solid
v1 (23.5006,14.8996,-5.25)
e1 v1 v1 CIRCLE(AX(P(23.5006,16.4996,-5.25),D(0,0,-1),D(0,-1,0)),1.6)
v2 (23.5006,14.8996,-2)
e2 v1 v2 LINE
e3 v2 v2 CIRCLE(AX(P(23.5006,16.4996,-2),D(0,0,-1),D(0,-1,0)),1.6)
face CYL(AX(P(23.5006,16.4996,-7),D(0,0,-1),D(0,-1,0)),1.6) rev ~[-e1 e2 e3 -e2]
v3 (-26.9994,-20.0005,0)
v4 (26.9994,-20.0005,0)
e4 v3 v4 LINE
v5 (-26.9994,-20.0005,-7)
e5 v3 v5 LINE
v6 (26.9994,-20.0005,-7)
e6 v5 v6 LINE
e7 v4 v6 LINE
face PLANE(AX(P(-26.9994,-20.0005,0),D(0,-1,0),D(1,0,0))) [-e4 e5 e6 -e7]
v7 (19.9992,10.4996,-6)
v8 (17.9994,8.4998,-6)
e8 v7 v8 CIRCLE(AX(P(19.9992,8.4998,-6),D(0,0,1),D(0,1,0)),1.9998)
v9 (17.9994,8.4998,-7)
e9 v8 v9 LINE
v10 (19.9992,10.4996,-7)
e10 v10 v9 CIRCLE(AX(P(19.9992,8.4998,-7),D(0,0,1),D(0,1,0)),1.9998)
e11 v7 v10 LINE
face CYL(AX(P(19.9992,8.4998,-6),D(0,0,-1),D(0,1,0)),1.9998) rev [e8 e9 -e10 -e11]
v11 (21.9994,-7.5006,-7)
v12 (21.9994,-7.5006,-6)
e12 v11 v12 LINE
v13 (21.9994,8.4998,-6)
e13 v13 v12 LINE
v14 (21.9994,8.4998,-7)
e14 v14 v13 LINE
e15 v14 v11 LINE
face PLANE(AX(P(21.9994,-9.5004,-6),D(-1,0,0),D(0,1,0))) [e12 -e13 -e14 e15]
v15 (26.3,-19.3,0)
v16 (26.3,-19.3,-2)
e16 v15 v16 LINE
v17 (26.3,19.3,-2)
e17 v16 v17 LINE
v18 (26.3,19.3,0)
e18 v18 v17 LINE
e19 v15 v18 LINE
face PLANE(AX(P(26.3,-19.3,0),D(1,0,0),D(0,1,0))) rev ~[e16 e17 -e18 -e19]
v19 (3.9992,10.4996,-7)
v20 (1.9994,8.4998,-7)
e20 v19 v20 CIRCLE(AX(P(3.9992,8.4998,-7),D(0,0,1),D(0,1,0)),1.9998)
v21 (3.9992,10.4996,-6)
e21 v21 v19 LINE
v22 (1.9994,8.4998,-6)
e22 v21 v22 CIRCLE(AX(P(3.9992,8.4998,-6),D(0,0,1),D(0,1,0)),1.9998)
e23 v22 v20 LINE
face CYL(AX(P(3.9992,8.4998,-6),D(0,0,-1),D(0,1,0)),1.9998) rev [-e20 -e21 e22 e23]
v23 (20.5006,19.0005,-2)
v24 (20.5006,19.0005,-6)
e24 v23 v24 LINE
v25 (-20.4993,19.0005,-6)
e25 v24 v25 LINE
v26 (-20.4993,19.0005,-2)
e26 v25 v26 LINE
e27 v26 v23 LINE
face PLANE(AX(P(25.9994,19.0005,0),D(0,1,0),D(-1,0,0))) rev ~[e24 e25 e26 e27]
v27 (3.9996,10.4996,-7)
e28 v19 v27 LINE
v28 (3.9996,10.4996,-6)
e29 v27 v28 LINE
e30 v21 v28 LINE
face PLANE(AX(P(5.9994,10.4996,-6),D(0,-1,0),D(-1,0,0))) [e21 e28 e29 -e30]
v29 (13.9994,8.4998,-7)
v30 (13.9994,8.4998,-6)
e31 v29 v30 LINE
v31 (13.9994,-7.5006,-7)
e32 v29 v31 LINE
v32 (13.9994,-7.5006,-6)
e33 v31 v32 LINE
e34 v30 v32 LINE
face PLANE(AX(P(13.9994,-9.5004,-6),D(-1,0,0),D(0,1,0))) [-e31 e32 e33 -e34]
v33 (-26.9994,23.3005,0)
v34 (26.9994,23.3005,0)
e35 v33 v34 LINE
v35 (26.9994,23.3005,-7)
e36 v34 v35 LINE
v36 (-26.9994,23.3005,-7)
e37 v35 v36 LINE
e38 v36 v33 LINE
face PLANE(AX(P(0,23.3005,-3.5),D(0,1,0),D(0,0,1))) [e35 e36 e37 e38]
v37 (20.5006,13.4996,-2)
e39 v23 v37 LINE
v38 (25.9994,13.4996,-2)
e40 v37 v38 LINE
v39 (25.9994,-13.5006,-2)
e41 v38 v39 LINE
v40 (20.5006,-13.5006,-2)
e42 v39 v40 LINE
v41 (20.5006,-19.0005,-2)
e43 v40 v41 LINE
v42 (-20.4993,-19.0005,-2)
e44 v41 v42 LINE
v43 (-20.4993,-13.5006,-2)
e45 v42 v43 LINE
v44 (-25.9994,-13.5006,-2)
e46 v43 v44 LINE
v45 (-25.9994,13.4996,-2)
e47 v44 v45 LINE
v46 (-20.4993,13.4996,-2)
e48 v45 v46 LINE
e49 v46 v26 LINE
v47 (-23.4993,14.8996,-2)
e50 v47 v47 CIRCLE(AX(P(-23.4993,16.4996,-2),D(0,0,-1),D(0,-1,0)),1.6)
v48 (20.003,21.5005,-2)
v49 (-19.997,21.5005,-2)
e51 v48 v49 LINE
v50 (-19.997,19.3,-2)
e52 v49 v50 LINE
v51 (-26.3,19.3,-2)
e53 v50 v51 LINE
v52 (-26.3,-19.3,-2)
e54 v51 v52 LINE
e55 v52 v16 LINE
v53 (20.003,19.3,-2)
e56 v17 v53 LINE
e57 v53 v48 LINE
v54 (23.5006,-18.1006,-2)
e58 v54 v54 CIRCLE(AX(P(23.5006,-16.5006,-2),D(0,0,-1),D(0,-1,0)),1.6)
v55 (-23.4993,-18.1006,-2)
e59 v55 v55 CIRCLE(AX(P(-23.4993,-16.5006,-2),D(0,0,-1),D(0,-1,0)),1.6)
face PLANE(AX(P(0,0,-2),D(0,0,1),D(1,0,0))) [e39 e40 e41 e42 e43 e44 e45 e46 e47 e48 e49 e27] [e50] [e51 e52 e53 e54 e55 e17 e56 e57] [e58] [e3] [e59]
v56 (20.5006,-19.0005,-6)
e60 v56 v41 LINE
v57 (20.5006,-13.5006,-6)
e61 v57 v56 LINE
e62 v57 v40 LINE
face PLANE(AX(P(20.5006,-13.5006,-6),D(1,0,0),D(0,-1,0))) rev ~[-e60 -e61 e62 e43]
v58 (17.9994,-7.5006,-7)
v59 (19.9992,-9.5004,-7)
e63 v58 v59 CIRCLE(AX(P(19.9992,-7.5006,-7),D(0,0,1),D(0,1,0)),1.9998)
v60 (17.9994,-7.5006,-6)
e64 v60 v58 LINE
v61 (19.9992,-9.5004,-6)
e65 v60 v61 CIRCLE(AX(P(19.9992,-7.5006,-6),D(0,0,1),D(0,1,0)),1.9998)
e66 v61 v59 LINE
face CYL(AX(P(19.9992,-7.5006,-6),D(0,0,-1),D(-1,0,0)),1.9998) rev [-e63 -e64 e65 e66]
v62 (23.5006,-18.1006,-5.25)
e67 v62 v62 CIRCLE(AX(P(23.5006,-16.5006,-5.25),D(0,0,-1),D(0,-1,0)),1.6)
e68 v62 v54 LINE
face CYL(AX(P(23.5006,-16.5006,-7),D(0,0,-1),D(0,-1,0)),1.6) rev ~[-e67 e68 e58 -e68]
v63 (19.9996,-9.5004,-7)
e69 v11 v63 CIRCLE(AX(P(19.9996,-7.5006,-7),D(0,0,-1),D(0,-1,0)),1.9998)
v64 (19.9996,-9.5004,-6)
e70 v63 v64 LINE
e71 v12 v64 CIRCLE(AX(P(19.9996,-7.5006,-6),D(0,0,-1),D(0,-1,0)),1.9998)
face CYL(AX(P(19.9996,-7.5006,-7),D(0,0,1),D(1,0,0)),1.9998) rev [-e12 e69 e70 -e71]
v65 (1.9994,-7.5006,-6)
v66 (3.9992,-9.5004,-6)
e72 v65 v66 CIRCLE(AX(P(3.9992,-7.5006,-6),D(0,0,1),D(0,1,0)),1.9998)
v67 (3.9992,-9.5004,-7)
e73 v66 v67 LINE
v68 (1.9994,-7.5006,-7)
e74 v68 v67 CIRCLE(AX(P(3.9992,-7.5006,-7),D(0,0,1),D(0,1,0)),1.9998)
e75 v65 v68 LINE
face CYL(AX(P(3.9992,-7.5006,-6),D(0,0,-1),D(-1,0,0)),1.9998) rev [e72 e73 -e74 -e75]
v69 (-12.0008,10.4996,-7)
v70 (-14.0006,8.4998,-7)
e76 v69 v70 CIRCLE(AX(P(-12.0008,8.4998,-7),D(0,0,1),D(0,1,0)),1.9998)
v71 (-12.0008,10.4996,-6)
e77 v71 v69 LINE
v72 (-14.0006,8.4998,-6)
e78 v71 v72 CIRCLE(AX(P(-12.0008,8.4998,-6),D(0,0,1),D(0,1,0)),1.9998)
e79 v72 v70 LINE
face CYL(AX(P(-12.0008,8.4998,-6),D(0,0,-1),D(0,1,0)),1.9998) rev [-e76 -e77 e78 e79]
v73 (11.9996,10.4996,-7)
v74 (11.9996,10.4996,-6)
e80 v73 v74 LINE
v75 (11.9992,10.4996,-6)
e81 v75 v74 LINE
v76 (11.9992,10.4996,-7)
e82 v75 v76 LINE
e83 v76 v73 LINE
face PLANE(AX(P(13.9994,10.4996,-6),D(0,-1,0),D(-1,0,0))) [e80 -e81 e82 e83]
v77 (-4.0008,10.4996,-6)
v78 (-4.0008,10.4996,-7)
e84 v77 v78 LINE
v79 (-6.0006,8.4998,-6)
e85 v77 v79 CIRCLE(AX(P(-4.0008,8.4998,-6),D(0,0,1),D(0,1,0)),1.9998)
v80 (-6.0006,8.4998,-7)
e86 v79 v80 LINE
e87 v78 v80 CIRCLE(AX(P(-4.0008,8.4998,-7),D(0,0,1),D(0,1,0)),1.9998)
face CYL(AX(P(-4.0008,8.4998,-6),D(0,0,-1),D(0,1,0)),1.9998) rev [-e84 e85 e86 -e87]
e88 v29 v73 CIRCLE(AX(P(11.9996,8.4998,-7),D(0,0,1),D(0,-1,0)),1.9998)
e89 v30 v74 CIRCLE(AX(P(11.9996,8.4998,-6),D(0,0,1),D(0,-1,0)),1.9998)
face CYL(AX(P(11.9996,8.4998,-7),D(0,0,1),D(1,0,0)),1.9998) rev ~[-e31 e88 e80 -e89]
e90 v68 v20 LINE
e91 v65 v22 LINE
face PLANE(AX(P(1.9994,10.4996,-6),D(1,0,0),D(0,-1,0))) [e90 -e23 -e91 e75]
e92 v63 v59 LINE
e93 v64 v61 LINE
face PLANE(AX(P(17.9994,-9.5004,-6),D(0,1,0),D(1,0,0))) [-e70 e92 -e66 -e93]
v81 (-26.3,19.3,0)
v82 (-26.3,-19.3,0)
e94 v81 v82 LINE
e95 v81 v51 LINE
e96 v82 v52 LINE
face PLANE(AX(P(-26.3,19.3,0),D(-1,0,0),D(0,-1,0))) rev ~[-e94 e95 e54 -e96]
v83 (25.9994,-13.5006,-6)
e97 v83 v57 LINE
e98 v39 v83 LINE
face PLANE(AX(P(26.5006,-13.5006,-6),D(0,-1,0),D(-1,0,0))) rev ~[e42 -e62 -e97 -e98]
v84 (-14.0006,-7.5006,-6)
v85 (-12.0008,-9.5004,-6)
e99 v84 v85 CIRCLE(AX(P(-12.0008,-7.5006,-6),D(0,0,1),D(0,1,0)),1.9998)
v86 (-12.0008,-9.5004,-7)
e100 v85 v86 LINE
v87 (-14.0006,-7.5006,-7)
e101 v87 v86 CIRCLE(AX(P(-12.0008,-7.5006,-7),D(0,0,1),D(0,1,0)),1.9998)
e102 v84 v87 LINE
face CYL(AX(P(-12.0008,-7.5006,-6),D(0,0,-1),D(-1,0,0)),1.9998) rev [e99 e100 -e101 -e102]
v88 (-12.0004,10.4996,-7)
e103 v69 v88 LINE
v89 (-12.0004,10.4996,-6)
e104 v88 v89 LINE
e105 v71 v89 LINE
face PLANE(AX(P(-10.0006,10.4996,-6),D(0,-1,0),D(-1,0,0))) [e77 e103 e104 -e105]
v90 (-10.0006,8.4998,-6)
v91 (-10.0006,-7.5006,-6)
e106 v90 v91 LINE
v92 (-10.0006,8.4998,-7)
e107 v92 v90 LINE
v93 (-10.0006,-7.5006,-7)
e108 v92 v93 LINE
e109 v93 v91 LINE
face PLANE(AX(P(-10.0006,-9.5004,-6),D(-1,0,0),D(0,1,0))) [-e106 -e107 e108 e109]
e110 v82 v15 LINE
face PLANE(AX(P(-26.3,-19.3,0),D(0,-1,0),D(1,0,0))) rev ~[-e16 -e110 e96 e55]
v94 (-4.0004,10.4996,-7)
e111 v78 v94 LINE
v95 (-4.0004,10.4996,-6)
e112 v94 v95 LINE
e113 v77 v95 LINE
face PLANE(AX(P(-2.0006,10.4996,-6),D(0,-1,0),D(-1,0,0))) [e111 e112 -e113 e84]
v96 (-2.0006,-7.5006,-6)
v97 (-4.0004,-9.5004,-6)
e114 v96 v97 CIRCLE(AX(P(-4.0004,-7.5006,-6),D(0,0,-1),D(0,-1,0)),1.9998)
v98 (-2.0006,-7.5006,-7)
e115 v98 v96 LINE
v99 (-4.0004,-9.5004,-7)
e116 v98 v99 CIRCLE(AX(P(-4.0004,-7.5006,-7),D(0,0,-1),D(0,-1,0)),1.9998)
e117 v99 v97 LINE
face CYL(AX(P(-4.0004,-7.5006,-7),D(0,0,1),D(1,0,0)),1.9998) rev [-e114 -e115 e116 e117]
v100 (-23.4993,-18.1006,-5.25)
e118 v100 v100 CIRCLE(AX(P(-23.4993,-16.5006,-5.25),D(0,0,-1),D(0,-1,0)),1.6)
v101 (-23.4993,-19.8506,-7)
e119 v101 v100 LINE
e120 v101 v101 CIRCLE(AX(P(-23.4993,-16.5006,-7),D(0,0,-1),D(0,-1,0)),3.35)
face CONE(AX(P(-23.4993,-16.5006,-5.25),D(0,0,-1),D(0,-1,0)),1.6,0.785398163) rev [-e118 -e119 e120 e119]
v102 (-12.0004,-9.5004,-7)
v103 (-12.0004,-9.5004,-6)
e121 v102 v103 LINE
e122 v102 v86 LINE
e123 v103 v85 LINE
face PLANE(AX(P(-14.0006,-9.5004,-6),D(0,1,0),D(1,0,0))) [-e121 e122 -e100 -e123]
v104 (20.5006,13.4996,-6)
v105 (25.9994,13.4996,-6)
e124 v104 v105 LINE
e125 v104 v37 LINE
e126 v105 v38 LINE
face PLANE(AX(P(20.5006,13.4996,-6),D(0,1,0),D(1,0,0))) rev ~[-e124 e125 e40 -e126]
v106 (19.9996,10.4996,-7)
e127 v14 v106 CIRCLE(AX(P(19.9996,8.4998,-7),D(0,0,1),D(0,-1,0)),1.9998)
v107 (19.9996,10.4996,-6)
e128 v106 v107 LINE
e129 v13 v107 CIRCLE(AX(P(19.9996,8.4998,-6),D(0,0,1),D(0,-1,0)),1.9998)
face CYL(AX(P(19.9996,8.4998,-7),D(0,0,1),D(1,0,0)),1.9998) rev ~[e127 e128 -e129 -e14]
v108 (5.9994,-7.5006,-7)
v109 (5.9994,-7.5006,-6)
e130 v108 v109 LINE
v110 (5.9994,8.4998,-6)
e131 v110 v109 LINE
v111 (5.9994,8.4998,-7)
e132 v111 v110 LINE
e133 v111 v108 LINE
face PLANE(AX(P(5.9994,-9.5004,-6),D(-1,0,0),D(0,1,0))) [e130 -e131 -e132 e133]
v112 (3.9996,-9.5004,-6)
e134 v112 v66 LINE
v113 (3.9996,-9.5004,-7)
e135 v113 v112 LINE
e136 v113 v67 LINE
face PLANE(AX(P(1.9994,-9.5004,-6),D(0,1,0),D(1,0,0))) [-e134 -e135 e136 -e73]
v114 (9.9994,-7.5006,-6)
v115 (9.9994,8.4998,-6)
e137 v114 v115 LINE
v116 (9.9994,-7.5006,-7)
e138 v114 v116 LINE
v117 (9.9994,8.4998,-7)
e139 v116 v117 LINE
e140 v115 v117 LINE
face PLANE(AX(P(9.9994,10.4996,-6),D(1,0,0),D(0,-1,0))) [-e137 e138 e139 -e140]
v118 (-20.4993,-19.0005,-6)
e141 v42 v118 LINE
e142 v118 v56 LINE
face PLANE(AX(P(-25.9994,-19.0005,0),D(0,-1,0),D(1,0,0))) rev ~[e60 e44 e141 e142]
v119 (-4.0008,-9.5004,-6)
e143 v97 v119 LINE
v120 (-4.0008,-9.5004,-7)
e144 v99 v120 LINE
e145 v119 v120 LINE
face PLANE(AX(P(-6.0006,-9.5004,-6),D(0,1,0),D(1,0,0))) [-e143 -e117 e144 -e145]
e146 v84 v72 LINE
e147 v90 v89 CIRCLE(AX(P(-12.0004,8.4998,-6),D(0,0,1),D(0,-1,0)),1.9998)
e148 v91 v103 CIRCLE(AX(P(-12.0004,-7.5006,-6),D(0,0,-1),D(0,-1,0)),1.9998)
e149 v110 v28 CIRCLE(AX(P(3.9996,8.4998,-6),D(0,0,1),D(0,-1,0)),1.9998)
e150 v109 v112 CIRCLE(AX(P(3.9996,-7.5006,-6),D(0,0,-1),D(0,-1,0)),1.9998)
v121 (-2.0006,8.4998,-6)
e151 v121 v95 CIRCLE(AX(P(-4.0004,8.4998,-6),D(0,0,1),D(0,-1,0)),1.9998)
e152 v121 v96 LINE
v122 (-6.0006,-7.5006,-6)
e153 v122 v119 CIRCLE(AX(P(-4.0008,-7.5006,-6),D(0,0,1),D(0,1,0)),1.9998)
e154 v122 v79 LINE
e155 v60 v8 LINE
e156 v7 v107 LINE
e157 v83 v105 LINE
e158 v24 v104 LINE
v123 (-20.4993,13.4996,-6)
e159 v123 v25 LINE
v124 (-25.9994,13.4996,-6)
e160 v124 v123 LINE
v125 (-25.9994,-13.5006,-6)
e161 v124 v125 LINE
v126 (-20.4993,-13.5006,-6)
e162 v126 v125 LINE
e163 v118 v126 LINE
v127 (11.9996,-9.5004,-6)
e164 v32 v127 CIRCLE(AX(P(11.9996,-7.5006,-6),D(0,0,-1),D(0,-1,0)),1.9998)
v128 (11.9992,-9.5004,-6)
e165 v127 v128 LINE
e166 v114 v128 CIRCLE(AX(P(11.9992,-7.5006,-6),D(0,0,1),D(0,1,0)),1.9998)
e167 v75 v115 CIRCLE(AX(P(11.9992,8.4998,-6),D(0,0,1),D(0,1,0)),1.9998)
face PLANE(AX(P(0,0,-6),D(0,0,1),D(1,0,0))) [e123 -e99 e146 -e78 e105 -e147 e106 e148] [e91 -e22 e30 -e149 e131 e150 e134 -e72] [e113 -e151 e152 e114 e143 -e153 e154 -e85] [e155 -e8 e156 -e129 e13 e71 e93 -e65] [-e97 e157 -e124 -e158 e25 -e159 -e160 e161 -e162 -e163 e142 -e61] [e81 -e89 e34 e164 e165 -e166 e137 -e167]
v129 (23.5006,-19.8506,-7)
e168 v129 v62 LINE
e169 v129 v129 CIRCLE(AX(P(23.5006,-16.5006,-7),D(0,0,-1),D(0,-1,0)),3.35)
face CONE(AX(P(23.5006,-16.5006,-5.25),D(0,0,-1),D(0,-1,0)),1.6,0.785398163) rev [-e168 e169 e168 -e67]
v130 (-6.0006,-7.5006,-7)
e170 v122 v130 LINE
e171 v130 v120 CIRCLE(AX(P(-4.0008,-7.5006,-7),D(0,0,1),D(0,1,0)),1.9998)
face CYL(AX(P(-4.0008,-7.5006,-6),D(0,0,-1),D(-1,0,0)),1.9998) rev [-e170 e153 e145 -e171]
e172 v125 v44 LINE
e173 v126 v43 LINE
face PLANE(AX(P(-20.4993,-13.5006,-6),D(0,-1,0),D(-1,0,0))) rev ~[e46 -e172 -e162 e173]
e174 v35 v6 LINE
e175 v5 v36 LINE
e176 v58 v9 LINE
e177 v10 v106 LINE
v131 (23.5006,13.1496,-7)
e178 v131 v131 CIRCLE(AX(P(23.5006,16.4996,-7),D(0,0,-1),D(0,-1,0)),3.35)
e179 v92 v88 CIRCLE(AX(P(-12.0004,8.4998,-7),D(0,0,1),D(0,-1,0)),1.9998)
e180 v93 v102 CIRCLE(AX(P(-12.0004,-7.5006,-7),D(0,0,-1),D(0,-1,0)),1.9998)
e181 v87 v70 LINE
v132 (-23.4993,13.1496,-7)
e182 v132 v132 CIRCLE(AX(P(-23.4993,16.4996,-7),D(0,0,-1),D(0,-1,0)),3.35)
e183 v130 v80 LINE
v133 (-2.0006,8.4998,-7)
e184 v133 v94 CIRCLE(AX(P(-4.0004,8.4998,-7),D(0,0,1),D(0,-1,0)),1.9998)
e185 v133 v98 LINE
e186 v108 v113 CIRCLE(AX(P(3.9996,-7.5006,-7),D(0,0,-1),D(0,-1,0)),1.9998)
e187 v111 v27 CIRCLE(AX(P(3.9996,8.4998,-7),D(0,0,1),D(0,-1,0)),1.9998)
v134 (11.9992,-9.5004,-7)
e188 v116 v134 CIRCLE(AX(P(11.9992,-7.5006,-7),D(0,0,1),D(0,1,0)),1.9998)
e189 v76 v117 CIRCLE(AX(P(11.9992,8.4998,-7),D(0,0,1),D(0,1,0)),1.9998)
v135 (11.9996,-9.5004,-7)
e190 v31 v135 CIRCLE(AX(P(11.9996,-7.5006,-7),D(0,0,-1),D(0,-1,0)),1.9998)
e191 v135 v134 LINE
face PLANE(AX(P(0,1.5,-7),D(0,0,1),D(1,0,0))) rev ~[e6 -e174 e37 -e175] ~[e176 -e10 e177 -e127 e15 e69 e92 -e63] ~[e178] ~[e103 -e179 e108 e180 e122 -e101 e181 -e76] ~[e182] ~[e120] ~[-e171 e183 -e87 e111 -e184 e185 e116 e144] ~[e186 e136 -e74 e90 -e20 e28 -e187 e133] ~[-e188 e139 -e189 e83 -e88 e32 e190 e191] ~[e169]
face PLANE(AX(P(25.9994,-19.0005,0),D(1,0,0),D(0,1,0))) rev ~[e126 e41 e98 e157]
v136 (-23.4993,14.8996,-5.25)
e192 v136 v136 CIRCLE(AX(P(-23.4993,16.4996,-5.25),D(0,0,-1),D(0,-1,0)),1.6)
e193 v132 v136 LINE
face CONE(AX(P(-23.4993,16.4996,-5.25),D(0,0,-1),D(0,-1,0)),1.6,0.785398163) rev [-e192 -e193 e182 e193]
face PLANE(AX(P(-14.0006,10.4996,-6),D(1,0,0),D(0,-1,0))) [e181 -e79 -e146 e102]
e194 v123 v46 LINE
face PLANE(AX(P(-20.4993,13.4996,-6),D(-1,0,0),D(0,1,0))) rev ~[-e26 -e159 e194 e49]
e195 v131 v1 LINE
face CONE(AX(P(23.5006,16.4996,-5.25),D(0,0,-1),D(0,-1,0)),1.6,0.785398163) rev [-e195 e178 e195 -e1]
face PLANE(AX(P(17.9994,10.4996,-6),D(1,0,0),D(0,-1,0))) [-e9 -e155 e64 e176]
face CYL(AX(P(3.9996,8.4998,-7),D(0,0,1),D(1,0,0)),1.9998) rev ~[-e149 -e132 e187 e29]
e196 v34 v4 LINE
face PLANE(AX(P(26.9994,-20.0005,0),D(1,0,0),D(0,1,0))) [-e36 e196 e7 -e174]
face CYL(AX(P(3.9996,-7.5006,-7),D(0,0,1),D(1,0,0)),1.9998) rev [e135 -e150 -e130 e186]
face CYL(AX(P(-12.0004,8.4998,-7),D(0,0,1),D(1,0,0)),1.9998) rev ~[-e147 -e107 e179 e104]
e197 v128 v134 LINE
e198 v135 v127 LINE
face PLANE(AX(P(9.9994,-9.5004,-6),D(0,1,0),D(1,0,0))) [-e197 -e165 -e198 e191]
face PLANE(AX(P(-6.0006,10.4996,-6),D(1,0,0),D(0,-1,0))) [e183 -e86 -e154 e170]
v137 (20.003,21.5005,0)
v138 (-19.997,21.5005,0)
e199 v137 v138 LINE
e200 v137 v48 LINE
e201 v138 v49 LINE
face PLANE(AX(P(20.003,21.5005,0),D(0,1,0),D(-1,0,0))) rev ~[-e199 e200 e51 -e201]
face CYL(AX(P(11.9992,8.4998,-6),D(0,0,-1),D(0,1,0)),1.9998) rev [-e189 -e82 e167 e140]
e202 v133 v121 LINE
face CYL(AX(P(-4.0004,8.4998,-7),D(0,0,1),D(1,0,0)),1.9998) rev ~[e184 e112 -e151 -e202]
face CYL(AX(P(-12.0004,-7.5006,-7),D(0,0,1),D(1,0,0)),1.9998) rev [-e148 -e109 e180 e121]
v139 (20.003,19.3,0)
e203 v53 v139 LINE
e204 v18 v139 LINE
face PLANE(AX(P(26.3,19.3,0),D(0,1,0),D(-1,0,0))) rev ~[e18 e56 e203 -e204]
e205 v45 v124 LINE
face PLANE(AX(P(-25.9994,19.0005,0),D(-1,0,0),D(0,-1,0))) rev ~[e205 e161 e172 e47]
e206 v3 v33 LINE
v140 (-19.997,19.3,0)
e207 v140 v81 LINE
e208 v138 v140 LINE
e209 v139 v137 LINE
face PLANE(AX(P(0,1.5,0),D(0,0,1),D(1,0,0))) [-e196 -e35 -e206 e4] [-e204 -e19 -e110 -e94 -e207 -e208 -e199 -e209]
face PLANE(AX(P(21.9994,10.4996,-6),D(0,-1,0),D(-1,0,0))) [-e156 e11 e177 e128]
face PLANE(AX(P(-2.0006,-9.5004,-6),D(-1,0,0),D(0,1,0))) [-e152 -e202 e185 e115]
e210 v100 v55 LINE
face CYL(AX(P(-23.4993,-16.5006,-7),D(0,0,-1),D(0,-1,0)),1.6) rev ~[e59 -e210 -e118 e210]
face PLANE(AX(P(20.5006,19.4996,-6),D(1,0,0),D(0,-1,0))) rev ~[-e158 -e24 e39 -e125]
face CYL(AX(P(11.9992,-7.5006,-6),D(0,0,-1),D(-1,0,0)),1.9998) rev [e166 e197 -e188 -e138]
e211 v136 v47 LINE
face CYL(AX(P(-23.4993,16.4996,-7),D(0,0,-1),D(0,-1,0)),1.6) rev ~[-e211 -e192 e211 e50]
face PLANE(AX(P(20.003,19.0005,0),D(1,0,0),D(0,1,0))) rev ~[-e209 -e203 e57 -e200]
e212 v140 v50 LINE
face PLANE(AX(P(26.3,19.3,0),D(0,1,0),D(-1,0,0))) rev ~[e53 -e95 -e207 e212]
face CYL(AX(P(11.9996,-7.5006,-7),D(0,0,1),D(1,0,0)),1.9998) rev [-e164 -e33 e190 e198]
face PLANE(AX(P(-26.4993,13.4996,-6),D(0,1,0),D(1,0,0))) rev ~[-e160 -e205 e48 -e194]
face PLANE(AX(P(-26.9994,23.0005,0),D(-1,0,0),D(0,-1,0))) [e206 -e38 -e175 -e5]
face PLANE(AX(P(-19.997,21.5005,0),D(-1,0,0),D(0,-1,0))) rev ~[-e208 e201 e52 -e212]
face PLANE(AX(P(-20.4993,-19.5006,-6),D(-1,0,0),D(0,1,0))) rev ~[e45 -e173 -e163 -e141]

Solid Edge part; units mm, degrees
sketch "Sketch1" plane through (0, 0, 0) normal (0, 0, 1) x (1, 0, 0)
  line L0 (-26.9994, -20.0005) -> (26.9994, -20.0005)
  line L1 (26.9994, -20.0005) -> (26.9994, 23.0005)
  line L2 (26.9994, 23.0005) -> (-26.9994, 23.0005)
  line L3 (-26.9994, 23.0005) -> (-26.9994, -20.0005)
  dimension "D1" = 4
  dimension "D2" = 1
  dimension "D3" = 1
  dimension "D4" = 1
extrude "Protrusion1" add sketch "Sketch1" against normal blind 7
sketch "Sketch2" plane through (0, 1.5, 0) normal (0, 0, 1) x (1, 0, 0)
  line L0 (-25.9994, -20.5005) -> (25.9994, -20.5005)
  line L1 (25.9994, -20.5005) -> (25.9994, 17.5005)
  line L2 (25.9994, 17.5005) -> (-25.9994, 17.5005)
  line L3 (-25.9994, 17.5005) -> (-25.9994, -20.5005)
extrude "Extrusionsausschnitt_1" cut sketch "Sketch2" against normal blind 6
sketch "Sketch3" plane through (0, 0, -6) normal (0, 0, 1) x (1, 0, 0)
  line L0 (-26.4993, 13.4996) -> (-20.4993, 13.4996)
  line L1 (-20.4993, 13.4996) -> (-20.4993, 19.4996)
  line L2 (-20.4993, 19.4996) -> (-26.4993, 19.4996)
  line L3 (-26.4993, 19.4996) -> (-26.4993, 13.4996)
extrude "Extrusionsausprägung_2" add sketch "Sketch3" along normal blind 4.4
sketch "Sketch4" plane through (0, 0, -6) normal (0, 0, 1) x (1, 0, 0)
  line L0 (-26.4993, -19.5006) -> (-20.4993, -19.5006)
  line L1 (-20.4993, -19.5006) -> (-20.4993, -13.5006)
  line L2 (-20.4993, -13.5006) -> (-26.4993, -13.5006)
  line L3 (-26.4993, -13.5006) -> (-26.4993, -19.5006)
extrude "Protrusion2" add sketch "Sketch4" along normal blind 4.4
sketch "Sketch5" plane through (0, 0, -6) normal (0, 0, 1) x (1, 0, 0)
  line L0 (20.5006, -19.5006) -> (26.5006, -19.5006)
  line L1 (26.5006, -19.5006) -> (26.5006, -13.5006)
  line L2 (26.5006, -13.5006) -> (20.5006, -13.5006)
  line L3 (20.5006, -13.5006) -> (20.5006, -19.5006)
  line L4 (20.5006, 13.4996) -> (26.5006, 13.4996)
  line L5 (26.5006, 13.4996) -> (26.5006, 19.4996)
  line L6 (26.5006, 19.4996) -> (20.5006, 19.4996)
  line L7 (20.5006, 19.4996) -> (20.5006, 13.4996)
extrude "Extrusionsausprägung_4" add sketch "Sketch5" along normal blind 4.4
sketch "Sketch6" plane through (0, 1.5, -7) normal (0, 0, -1) x (0, -1, 0)
  circle A0 centre (-14.9996, 23.4993) radius 1.6
  circle A1 centre (18.0006, 23.4993) radius 1.6
  circle A2 centre (18.0006, -23.5006) radius 1.6
  circle A3 centre (-14.9996, -23.5006) radius 1.6
extrude "Extrusionsausschnitt_3" cut sketch "Sketch6" against normal blind 225.4763
sketch "Sketch7" plane through (0, 1.5, 0) normal (0, 0, 1) x (1, 0, 0)
  line L0 (-19.997, 17.5005) -> (20.003, 17.5005)
  line L1 (20.003, 17.5005) -> (20.003, 20.0005)
  line L2 (20.003, 20.0005) -> (-19.997, 20.0005)
  line L3 (-19.997, 20.0005) -> (-19.997, 17.5005)
  dimension "D1" = 20.003
  dimension "D2" = 20.003
extrude "Extrusionsausschnitt_4" cut sketch "Sketch7" against normal blind 2
sketch "Sketch8" plane through (0, 0, -6) normal (0, 0, 1) x (1, 0, 0)
  line L0 (17.9994, -9.5004) -> (21.9994, -9.5004)
  line L1 (21.9994, -9.5004) -> (21.9994, 10.4996)
  line L2 (21.9994, 10.4996) -> (17.9994, 10.4996)
  line L3 (17.9994, 10.4996) -> (17.9994, -9.5004)
  line L4 (9.9994, -9.5004) -> (13.9994, -9.5004)
  line L5 (13.9994, -9.5004) -> (13.9994, 10.4996)
  line L6 (13.9994, 10.4996) -> (9.9994, 10.4996)
  line L7 (9.9994, 10.4996) -> (9.9994, -9.5004)
  line L8 (1.9994, -9.5004) -> (5.9994, -9.5004)
  line L9 (5.9994, -9.5004) -> (5.9994, 10.4996)
  line L10 (5.9994, 10.4996) -> (1.9994, 10.4996)
  line L11 (1.9994, 10.4996) -> (1.9994, -9.5004)
  line L12 (-6.0006, -9.5004) -> (-2.0006, -9.5004)
  line L13 (-2.0006, -9.5004) -> (-2.0006, 10.4996)
  line L14 (-2.0006, 10.4996) -> (-6.0006, 10.4996)
  line L15 (-6.0006, 10.4996) -> (-6.0006, -9.5004)
  line L16 (-14.0006, -9.5004) -> (-10.0006, -9.5004)
  line L17 (-10.0006, -9.5004) -> (-10.0006, 10.4996)
  line L18 (-10.0006, 10.4996) -> (-14.0006, 10.4996)
  line L19 (-14.0006, 10.4996) -> (-14.0006, -9.5004)
  dimension "D1" = 4
  dimension "D2" = 20
  dimension "D3" = 4
  dimension "D4" = 20
  dimension "D5" = 4
  dimension "D6" = 20
  dimension "D7" = 4
  dimension "D8" = 20
  dimension "D9" = 4
  dimension "D10" = 20
  dimension "D11" = 4
  dimension "D12" = 4
  dimension "D13" = 4
  dimension "D14" = 4
  dimension "D15" = 4
  dimension "D16" = 3
  dimension "D17" = 3
  dimension "D18" = 3
  dimension "D19" = 3
  dimension "D20" = 3
extrude "Cutout1" cut sketch "Sketch8" along normal mid plane 25.2613
fillet "Verrundung_1" radius 2 20 edges at (-10.0006, 10.4996, -6.5) (-2.0006, 10.4996, -6.5) (5.9994, 10.4996, -6.5) (13.9994, 10.4996, -6.5) (21.9994, 10.4996, -6.5) (17.9994, 10.4996, -6.5) (9.9994, 10.4996, -6.5) (1.9994, 10.4996, -6.5) (-6.0006, 10.4996, -6.5) (-14.0006, 10.4996, -6.5) (-14.0006, -9.5004, -6.5) (-6.0006, -9.5004, -6.5) (1.9994, -9.5004, -6.5) (9.9994, -9.5004, -6.5) (17.9994, -9.5004, -6.5) (-10.0006, -9.5004, -6.5) (-2.0006, -9.5004, -6.5) (5.9994, -9.5004, -6.5) (13.9994, -9.5004, -6.5) (21.9994, -9.5004, -6.5)
sketch "Sketch9" plane through (0, 1.5, 0) normal (0, 0, 1) x (0, 1, 0)
  line L0 (21.3005, -40) -> (21.3005, 40)
  dimension "D1" = 0.2
  dimension "D2" = 80
extrude "Extrusionsausschnitt_6" cut sketch "Sketch9" along normal mid plane 56.5078 material side at (0, 22.8505, 0)
sketch "Sketch10" plane through (0, 1.4, 0) normal (0, 0, 1) x (1, 0, 0)
  line L0 (-26.3, -20.7) -> (26.3, -20.7)
  line L1 (26.3, -20.7) -> (26.3, 17.9)
  line L2 (26.3, 17.9) -> (-26.3, 17.9)
  line L3 (-26.3, 17.9) -> (-26.3, -20.7)
  dimension "D1" = 52.6
  dimension "D2" = 38.6
extrude "Extrusionsausschnitt_7" cut sketch "Sketch10" against normal blind 2
sketch "Sketch11" plane through (0, 22.8005, -3.5) normal (0, 1, 0) x (1, 0, 0)
  line L0 (-26.9994, -3.5) -> (26.9994, -3.5)
  line L1 (26.9994, -3.5) -> (26.9994, 3.5)
  line L2 (26.9994, 3.5) -> (-26.9994, 3.5)
  line L3 (-26.9994, 3.5) -> (-26.9994, -3.5)
extrude "Protrusion3" add sketch "Sketch11" along normal blind 0.5
chamfer "Chamfer1" distance 1.75 angle 45 1 edges at (23.5006, 18.0996, -7)
chamfer "Fase_3" distance 1.75 angle 45 3 edges at (23.5006, -14.9006, -7) (-23.4993, -14.9006, -7) (-23.4993, 18.0996, -7)
